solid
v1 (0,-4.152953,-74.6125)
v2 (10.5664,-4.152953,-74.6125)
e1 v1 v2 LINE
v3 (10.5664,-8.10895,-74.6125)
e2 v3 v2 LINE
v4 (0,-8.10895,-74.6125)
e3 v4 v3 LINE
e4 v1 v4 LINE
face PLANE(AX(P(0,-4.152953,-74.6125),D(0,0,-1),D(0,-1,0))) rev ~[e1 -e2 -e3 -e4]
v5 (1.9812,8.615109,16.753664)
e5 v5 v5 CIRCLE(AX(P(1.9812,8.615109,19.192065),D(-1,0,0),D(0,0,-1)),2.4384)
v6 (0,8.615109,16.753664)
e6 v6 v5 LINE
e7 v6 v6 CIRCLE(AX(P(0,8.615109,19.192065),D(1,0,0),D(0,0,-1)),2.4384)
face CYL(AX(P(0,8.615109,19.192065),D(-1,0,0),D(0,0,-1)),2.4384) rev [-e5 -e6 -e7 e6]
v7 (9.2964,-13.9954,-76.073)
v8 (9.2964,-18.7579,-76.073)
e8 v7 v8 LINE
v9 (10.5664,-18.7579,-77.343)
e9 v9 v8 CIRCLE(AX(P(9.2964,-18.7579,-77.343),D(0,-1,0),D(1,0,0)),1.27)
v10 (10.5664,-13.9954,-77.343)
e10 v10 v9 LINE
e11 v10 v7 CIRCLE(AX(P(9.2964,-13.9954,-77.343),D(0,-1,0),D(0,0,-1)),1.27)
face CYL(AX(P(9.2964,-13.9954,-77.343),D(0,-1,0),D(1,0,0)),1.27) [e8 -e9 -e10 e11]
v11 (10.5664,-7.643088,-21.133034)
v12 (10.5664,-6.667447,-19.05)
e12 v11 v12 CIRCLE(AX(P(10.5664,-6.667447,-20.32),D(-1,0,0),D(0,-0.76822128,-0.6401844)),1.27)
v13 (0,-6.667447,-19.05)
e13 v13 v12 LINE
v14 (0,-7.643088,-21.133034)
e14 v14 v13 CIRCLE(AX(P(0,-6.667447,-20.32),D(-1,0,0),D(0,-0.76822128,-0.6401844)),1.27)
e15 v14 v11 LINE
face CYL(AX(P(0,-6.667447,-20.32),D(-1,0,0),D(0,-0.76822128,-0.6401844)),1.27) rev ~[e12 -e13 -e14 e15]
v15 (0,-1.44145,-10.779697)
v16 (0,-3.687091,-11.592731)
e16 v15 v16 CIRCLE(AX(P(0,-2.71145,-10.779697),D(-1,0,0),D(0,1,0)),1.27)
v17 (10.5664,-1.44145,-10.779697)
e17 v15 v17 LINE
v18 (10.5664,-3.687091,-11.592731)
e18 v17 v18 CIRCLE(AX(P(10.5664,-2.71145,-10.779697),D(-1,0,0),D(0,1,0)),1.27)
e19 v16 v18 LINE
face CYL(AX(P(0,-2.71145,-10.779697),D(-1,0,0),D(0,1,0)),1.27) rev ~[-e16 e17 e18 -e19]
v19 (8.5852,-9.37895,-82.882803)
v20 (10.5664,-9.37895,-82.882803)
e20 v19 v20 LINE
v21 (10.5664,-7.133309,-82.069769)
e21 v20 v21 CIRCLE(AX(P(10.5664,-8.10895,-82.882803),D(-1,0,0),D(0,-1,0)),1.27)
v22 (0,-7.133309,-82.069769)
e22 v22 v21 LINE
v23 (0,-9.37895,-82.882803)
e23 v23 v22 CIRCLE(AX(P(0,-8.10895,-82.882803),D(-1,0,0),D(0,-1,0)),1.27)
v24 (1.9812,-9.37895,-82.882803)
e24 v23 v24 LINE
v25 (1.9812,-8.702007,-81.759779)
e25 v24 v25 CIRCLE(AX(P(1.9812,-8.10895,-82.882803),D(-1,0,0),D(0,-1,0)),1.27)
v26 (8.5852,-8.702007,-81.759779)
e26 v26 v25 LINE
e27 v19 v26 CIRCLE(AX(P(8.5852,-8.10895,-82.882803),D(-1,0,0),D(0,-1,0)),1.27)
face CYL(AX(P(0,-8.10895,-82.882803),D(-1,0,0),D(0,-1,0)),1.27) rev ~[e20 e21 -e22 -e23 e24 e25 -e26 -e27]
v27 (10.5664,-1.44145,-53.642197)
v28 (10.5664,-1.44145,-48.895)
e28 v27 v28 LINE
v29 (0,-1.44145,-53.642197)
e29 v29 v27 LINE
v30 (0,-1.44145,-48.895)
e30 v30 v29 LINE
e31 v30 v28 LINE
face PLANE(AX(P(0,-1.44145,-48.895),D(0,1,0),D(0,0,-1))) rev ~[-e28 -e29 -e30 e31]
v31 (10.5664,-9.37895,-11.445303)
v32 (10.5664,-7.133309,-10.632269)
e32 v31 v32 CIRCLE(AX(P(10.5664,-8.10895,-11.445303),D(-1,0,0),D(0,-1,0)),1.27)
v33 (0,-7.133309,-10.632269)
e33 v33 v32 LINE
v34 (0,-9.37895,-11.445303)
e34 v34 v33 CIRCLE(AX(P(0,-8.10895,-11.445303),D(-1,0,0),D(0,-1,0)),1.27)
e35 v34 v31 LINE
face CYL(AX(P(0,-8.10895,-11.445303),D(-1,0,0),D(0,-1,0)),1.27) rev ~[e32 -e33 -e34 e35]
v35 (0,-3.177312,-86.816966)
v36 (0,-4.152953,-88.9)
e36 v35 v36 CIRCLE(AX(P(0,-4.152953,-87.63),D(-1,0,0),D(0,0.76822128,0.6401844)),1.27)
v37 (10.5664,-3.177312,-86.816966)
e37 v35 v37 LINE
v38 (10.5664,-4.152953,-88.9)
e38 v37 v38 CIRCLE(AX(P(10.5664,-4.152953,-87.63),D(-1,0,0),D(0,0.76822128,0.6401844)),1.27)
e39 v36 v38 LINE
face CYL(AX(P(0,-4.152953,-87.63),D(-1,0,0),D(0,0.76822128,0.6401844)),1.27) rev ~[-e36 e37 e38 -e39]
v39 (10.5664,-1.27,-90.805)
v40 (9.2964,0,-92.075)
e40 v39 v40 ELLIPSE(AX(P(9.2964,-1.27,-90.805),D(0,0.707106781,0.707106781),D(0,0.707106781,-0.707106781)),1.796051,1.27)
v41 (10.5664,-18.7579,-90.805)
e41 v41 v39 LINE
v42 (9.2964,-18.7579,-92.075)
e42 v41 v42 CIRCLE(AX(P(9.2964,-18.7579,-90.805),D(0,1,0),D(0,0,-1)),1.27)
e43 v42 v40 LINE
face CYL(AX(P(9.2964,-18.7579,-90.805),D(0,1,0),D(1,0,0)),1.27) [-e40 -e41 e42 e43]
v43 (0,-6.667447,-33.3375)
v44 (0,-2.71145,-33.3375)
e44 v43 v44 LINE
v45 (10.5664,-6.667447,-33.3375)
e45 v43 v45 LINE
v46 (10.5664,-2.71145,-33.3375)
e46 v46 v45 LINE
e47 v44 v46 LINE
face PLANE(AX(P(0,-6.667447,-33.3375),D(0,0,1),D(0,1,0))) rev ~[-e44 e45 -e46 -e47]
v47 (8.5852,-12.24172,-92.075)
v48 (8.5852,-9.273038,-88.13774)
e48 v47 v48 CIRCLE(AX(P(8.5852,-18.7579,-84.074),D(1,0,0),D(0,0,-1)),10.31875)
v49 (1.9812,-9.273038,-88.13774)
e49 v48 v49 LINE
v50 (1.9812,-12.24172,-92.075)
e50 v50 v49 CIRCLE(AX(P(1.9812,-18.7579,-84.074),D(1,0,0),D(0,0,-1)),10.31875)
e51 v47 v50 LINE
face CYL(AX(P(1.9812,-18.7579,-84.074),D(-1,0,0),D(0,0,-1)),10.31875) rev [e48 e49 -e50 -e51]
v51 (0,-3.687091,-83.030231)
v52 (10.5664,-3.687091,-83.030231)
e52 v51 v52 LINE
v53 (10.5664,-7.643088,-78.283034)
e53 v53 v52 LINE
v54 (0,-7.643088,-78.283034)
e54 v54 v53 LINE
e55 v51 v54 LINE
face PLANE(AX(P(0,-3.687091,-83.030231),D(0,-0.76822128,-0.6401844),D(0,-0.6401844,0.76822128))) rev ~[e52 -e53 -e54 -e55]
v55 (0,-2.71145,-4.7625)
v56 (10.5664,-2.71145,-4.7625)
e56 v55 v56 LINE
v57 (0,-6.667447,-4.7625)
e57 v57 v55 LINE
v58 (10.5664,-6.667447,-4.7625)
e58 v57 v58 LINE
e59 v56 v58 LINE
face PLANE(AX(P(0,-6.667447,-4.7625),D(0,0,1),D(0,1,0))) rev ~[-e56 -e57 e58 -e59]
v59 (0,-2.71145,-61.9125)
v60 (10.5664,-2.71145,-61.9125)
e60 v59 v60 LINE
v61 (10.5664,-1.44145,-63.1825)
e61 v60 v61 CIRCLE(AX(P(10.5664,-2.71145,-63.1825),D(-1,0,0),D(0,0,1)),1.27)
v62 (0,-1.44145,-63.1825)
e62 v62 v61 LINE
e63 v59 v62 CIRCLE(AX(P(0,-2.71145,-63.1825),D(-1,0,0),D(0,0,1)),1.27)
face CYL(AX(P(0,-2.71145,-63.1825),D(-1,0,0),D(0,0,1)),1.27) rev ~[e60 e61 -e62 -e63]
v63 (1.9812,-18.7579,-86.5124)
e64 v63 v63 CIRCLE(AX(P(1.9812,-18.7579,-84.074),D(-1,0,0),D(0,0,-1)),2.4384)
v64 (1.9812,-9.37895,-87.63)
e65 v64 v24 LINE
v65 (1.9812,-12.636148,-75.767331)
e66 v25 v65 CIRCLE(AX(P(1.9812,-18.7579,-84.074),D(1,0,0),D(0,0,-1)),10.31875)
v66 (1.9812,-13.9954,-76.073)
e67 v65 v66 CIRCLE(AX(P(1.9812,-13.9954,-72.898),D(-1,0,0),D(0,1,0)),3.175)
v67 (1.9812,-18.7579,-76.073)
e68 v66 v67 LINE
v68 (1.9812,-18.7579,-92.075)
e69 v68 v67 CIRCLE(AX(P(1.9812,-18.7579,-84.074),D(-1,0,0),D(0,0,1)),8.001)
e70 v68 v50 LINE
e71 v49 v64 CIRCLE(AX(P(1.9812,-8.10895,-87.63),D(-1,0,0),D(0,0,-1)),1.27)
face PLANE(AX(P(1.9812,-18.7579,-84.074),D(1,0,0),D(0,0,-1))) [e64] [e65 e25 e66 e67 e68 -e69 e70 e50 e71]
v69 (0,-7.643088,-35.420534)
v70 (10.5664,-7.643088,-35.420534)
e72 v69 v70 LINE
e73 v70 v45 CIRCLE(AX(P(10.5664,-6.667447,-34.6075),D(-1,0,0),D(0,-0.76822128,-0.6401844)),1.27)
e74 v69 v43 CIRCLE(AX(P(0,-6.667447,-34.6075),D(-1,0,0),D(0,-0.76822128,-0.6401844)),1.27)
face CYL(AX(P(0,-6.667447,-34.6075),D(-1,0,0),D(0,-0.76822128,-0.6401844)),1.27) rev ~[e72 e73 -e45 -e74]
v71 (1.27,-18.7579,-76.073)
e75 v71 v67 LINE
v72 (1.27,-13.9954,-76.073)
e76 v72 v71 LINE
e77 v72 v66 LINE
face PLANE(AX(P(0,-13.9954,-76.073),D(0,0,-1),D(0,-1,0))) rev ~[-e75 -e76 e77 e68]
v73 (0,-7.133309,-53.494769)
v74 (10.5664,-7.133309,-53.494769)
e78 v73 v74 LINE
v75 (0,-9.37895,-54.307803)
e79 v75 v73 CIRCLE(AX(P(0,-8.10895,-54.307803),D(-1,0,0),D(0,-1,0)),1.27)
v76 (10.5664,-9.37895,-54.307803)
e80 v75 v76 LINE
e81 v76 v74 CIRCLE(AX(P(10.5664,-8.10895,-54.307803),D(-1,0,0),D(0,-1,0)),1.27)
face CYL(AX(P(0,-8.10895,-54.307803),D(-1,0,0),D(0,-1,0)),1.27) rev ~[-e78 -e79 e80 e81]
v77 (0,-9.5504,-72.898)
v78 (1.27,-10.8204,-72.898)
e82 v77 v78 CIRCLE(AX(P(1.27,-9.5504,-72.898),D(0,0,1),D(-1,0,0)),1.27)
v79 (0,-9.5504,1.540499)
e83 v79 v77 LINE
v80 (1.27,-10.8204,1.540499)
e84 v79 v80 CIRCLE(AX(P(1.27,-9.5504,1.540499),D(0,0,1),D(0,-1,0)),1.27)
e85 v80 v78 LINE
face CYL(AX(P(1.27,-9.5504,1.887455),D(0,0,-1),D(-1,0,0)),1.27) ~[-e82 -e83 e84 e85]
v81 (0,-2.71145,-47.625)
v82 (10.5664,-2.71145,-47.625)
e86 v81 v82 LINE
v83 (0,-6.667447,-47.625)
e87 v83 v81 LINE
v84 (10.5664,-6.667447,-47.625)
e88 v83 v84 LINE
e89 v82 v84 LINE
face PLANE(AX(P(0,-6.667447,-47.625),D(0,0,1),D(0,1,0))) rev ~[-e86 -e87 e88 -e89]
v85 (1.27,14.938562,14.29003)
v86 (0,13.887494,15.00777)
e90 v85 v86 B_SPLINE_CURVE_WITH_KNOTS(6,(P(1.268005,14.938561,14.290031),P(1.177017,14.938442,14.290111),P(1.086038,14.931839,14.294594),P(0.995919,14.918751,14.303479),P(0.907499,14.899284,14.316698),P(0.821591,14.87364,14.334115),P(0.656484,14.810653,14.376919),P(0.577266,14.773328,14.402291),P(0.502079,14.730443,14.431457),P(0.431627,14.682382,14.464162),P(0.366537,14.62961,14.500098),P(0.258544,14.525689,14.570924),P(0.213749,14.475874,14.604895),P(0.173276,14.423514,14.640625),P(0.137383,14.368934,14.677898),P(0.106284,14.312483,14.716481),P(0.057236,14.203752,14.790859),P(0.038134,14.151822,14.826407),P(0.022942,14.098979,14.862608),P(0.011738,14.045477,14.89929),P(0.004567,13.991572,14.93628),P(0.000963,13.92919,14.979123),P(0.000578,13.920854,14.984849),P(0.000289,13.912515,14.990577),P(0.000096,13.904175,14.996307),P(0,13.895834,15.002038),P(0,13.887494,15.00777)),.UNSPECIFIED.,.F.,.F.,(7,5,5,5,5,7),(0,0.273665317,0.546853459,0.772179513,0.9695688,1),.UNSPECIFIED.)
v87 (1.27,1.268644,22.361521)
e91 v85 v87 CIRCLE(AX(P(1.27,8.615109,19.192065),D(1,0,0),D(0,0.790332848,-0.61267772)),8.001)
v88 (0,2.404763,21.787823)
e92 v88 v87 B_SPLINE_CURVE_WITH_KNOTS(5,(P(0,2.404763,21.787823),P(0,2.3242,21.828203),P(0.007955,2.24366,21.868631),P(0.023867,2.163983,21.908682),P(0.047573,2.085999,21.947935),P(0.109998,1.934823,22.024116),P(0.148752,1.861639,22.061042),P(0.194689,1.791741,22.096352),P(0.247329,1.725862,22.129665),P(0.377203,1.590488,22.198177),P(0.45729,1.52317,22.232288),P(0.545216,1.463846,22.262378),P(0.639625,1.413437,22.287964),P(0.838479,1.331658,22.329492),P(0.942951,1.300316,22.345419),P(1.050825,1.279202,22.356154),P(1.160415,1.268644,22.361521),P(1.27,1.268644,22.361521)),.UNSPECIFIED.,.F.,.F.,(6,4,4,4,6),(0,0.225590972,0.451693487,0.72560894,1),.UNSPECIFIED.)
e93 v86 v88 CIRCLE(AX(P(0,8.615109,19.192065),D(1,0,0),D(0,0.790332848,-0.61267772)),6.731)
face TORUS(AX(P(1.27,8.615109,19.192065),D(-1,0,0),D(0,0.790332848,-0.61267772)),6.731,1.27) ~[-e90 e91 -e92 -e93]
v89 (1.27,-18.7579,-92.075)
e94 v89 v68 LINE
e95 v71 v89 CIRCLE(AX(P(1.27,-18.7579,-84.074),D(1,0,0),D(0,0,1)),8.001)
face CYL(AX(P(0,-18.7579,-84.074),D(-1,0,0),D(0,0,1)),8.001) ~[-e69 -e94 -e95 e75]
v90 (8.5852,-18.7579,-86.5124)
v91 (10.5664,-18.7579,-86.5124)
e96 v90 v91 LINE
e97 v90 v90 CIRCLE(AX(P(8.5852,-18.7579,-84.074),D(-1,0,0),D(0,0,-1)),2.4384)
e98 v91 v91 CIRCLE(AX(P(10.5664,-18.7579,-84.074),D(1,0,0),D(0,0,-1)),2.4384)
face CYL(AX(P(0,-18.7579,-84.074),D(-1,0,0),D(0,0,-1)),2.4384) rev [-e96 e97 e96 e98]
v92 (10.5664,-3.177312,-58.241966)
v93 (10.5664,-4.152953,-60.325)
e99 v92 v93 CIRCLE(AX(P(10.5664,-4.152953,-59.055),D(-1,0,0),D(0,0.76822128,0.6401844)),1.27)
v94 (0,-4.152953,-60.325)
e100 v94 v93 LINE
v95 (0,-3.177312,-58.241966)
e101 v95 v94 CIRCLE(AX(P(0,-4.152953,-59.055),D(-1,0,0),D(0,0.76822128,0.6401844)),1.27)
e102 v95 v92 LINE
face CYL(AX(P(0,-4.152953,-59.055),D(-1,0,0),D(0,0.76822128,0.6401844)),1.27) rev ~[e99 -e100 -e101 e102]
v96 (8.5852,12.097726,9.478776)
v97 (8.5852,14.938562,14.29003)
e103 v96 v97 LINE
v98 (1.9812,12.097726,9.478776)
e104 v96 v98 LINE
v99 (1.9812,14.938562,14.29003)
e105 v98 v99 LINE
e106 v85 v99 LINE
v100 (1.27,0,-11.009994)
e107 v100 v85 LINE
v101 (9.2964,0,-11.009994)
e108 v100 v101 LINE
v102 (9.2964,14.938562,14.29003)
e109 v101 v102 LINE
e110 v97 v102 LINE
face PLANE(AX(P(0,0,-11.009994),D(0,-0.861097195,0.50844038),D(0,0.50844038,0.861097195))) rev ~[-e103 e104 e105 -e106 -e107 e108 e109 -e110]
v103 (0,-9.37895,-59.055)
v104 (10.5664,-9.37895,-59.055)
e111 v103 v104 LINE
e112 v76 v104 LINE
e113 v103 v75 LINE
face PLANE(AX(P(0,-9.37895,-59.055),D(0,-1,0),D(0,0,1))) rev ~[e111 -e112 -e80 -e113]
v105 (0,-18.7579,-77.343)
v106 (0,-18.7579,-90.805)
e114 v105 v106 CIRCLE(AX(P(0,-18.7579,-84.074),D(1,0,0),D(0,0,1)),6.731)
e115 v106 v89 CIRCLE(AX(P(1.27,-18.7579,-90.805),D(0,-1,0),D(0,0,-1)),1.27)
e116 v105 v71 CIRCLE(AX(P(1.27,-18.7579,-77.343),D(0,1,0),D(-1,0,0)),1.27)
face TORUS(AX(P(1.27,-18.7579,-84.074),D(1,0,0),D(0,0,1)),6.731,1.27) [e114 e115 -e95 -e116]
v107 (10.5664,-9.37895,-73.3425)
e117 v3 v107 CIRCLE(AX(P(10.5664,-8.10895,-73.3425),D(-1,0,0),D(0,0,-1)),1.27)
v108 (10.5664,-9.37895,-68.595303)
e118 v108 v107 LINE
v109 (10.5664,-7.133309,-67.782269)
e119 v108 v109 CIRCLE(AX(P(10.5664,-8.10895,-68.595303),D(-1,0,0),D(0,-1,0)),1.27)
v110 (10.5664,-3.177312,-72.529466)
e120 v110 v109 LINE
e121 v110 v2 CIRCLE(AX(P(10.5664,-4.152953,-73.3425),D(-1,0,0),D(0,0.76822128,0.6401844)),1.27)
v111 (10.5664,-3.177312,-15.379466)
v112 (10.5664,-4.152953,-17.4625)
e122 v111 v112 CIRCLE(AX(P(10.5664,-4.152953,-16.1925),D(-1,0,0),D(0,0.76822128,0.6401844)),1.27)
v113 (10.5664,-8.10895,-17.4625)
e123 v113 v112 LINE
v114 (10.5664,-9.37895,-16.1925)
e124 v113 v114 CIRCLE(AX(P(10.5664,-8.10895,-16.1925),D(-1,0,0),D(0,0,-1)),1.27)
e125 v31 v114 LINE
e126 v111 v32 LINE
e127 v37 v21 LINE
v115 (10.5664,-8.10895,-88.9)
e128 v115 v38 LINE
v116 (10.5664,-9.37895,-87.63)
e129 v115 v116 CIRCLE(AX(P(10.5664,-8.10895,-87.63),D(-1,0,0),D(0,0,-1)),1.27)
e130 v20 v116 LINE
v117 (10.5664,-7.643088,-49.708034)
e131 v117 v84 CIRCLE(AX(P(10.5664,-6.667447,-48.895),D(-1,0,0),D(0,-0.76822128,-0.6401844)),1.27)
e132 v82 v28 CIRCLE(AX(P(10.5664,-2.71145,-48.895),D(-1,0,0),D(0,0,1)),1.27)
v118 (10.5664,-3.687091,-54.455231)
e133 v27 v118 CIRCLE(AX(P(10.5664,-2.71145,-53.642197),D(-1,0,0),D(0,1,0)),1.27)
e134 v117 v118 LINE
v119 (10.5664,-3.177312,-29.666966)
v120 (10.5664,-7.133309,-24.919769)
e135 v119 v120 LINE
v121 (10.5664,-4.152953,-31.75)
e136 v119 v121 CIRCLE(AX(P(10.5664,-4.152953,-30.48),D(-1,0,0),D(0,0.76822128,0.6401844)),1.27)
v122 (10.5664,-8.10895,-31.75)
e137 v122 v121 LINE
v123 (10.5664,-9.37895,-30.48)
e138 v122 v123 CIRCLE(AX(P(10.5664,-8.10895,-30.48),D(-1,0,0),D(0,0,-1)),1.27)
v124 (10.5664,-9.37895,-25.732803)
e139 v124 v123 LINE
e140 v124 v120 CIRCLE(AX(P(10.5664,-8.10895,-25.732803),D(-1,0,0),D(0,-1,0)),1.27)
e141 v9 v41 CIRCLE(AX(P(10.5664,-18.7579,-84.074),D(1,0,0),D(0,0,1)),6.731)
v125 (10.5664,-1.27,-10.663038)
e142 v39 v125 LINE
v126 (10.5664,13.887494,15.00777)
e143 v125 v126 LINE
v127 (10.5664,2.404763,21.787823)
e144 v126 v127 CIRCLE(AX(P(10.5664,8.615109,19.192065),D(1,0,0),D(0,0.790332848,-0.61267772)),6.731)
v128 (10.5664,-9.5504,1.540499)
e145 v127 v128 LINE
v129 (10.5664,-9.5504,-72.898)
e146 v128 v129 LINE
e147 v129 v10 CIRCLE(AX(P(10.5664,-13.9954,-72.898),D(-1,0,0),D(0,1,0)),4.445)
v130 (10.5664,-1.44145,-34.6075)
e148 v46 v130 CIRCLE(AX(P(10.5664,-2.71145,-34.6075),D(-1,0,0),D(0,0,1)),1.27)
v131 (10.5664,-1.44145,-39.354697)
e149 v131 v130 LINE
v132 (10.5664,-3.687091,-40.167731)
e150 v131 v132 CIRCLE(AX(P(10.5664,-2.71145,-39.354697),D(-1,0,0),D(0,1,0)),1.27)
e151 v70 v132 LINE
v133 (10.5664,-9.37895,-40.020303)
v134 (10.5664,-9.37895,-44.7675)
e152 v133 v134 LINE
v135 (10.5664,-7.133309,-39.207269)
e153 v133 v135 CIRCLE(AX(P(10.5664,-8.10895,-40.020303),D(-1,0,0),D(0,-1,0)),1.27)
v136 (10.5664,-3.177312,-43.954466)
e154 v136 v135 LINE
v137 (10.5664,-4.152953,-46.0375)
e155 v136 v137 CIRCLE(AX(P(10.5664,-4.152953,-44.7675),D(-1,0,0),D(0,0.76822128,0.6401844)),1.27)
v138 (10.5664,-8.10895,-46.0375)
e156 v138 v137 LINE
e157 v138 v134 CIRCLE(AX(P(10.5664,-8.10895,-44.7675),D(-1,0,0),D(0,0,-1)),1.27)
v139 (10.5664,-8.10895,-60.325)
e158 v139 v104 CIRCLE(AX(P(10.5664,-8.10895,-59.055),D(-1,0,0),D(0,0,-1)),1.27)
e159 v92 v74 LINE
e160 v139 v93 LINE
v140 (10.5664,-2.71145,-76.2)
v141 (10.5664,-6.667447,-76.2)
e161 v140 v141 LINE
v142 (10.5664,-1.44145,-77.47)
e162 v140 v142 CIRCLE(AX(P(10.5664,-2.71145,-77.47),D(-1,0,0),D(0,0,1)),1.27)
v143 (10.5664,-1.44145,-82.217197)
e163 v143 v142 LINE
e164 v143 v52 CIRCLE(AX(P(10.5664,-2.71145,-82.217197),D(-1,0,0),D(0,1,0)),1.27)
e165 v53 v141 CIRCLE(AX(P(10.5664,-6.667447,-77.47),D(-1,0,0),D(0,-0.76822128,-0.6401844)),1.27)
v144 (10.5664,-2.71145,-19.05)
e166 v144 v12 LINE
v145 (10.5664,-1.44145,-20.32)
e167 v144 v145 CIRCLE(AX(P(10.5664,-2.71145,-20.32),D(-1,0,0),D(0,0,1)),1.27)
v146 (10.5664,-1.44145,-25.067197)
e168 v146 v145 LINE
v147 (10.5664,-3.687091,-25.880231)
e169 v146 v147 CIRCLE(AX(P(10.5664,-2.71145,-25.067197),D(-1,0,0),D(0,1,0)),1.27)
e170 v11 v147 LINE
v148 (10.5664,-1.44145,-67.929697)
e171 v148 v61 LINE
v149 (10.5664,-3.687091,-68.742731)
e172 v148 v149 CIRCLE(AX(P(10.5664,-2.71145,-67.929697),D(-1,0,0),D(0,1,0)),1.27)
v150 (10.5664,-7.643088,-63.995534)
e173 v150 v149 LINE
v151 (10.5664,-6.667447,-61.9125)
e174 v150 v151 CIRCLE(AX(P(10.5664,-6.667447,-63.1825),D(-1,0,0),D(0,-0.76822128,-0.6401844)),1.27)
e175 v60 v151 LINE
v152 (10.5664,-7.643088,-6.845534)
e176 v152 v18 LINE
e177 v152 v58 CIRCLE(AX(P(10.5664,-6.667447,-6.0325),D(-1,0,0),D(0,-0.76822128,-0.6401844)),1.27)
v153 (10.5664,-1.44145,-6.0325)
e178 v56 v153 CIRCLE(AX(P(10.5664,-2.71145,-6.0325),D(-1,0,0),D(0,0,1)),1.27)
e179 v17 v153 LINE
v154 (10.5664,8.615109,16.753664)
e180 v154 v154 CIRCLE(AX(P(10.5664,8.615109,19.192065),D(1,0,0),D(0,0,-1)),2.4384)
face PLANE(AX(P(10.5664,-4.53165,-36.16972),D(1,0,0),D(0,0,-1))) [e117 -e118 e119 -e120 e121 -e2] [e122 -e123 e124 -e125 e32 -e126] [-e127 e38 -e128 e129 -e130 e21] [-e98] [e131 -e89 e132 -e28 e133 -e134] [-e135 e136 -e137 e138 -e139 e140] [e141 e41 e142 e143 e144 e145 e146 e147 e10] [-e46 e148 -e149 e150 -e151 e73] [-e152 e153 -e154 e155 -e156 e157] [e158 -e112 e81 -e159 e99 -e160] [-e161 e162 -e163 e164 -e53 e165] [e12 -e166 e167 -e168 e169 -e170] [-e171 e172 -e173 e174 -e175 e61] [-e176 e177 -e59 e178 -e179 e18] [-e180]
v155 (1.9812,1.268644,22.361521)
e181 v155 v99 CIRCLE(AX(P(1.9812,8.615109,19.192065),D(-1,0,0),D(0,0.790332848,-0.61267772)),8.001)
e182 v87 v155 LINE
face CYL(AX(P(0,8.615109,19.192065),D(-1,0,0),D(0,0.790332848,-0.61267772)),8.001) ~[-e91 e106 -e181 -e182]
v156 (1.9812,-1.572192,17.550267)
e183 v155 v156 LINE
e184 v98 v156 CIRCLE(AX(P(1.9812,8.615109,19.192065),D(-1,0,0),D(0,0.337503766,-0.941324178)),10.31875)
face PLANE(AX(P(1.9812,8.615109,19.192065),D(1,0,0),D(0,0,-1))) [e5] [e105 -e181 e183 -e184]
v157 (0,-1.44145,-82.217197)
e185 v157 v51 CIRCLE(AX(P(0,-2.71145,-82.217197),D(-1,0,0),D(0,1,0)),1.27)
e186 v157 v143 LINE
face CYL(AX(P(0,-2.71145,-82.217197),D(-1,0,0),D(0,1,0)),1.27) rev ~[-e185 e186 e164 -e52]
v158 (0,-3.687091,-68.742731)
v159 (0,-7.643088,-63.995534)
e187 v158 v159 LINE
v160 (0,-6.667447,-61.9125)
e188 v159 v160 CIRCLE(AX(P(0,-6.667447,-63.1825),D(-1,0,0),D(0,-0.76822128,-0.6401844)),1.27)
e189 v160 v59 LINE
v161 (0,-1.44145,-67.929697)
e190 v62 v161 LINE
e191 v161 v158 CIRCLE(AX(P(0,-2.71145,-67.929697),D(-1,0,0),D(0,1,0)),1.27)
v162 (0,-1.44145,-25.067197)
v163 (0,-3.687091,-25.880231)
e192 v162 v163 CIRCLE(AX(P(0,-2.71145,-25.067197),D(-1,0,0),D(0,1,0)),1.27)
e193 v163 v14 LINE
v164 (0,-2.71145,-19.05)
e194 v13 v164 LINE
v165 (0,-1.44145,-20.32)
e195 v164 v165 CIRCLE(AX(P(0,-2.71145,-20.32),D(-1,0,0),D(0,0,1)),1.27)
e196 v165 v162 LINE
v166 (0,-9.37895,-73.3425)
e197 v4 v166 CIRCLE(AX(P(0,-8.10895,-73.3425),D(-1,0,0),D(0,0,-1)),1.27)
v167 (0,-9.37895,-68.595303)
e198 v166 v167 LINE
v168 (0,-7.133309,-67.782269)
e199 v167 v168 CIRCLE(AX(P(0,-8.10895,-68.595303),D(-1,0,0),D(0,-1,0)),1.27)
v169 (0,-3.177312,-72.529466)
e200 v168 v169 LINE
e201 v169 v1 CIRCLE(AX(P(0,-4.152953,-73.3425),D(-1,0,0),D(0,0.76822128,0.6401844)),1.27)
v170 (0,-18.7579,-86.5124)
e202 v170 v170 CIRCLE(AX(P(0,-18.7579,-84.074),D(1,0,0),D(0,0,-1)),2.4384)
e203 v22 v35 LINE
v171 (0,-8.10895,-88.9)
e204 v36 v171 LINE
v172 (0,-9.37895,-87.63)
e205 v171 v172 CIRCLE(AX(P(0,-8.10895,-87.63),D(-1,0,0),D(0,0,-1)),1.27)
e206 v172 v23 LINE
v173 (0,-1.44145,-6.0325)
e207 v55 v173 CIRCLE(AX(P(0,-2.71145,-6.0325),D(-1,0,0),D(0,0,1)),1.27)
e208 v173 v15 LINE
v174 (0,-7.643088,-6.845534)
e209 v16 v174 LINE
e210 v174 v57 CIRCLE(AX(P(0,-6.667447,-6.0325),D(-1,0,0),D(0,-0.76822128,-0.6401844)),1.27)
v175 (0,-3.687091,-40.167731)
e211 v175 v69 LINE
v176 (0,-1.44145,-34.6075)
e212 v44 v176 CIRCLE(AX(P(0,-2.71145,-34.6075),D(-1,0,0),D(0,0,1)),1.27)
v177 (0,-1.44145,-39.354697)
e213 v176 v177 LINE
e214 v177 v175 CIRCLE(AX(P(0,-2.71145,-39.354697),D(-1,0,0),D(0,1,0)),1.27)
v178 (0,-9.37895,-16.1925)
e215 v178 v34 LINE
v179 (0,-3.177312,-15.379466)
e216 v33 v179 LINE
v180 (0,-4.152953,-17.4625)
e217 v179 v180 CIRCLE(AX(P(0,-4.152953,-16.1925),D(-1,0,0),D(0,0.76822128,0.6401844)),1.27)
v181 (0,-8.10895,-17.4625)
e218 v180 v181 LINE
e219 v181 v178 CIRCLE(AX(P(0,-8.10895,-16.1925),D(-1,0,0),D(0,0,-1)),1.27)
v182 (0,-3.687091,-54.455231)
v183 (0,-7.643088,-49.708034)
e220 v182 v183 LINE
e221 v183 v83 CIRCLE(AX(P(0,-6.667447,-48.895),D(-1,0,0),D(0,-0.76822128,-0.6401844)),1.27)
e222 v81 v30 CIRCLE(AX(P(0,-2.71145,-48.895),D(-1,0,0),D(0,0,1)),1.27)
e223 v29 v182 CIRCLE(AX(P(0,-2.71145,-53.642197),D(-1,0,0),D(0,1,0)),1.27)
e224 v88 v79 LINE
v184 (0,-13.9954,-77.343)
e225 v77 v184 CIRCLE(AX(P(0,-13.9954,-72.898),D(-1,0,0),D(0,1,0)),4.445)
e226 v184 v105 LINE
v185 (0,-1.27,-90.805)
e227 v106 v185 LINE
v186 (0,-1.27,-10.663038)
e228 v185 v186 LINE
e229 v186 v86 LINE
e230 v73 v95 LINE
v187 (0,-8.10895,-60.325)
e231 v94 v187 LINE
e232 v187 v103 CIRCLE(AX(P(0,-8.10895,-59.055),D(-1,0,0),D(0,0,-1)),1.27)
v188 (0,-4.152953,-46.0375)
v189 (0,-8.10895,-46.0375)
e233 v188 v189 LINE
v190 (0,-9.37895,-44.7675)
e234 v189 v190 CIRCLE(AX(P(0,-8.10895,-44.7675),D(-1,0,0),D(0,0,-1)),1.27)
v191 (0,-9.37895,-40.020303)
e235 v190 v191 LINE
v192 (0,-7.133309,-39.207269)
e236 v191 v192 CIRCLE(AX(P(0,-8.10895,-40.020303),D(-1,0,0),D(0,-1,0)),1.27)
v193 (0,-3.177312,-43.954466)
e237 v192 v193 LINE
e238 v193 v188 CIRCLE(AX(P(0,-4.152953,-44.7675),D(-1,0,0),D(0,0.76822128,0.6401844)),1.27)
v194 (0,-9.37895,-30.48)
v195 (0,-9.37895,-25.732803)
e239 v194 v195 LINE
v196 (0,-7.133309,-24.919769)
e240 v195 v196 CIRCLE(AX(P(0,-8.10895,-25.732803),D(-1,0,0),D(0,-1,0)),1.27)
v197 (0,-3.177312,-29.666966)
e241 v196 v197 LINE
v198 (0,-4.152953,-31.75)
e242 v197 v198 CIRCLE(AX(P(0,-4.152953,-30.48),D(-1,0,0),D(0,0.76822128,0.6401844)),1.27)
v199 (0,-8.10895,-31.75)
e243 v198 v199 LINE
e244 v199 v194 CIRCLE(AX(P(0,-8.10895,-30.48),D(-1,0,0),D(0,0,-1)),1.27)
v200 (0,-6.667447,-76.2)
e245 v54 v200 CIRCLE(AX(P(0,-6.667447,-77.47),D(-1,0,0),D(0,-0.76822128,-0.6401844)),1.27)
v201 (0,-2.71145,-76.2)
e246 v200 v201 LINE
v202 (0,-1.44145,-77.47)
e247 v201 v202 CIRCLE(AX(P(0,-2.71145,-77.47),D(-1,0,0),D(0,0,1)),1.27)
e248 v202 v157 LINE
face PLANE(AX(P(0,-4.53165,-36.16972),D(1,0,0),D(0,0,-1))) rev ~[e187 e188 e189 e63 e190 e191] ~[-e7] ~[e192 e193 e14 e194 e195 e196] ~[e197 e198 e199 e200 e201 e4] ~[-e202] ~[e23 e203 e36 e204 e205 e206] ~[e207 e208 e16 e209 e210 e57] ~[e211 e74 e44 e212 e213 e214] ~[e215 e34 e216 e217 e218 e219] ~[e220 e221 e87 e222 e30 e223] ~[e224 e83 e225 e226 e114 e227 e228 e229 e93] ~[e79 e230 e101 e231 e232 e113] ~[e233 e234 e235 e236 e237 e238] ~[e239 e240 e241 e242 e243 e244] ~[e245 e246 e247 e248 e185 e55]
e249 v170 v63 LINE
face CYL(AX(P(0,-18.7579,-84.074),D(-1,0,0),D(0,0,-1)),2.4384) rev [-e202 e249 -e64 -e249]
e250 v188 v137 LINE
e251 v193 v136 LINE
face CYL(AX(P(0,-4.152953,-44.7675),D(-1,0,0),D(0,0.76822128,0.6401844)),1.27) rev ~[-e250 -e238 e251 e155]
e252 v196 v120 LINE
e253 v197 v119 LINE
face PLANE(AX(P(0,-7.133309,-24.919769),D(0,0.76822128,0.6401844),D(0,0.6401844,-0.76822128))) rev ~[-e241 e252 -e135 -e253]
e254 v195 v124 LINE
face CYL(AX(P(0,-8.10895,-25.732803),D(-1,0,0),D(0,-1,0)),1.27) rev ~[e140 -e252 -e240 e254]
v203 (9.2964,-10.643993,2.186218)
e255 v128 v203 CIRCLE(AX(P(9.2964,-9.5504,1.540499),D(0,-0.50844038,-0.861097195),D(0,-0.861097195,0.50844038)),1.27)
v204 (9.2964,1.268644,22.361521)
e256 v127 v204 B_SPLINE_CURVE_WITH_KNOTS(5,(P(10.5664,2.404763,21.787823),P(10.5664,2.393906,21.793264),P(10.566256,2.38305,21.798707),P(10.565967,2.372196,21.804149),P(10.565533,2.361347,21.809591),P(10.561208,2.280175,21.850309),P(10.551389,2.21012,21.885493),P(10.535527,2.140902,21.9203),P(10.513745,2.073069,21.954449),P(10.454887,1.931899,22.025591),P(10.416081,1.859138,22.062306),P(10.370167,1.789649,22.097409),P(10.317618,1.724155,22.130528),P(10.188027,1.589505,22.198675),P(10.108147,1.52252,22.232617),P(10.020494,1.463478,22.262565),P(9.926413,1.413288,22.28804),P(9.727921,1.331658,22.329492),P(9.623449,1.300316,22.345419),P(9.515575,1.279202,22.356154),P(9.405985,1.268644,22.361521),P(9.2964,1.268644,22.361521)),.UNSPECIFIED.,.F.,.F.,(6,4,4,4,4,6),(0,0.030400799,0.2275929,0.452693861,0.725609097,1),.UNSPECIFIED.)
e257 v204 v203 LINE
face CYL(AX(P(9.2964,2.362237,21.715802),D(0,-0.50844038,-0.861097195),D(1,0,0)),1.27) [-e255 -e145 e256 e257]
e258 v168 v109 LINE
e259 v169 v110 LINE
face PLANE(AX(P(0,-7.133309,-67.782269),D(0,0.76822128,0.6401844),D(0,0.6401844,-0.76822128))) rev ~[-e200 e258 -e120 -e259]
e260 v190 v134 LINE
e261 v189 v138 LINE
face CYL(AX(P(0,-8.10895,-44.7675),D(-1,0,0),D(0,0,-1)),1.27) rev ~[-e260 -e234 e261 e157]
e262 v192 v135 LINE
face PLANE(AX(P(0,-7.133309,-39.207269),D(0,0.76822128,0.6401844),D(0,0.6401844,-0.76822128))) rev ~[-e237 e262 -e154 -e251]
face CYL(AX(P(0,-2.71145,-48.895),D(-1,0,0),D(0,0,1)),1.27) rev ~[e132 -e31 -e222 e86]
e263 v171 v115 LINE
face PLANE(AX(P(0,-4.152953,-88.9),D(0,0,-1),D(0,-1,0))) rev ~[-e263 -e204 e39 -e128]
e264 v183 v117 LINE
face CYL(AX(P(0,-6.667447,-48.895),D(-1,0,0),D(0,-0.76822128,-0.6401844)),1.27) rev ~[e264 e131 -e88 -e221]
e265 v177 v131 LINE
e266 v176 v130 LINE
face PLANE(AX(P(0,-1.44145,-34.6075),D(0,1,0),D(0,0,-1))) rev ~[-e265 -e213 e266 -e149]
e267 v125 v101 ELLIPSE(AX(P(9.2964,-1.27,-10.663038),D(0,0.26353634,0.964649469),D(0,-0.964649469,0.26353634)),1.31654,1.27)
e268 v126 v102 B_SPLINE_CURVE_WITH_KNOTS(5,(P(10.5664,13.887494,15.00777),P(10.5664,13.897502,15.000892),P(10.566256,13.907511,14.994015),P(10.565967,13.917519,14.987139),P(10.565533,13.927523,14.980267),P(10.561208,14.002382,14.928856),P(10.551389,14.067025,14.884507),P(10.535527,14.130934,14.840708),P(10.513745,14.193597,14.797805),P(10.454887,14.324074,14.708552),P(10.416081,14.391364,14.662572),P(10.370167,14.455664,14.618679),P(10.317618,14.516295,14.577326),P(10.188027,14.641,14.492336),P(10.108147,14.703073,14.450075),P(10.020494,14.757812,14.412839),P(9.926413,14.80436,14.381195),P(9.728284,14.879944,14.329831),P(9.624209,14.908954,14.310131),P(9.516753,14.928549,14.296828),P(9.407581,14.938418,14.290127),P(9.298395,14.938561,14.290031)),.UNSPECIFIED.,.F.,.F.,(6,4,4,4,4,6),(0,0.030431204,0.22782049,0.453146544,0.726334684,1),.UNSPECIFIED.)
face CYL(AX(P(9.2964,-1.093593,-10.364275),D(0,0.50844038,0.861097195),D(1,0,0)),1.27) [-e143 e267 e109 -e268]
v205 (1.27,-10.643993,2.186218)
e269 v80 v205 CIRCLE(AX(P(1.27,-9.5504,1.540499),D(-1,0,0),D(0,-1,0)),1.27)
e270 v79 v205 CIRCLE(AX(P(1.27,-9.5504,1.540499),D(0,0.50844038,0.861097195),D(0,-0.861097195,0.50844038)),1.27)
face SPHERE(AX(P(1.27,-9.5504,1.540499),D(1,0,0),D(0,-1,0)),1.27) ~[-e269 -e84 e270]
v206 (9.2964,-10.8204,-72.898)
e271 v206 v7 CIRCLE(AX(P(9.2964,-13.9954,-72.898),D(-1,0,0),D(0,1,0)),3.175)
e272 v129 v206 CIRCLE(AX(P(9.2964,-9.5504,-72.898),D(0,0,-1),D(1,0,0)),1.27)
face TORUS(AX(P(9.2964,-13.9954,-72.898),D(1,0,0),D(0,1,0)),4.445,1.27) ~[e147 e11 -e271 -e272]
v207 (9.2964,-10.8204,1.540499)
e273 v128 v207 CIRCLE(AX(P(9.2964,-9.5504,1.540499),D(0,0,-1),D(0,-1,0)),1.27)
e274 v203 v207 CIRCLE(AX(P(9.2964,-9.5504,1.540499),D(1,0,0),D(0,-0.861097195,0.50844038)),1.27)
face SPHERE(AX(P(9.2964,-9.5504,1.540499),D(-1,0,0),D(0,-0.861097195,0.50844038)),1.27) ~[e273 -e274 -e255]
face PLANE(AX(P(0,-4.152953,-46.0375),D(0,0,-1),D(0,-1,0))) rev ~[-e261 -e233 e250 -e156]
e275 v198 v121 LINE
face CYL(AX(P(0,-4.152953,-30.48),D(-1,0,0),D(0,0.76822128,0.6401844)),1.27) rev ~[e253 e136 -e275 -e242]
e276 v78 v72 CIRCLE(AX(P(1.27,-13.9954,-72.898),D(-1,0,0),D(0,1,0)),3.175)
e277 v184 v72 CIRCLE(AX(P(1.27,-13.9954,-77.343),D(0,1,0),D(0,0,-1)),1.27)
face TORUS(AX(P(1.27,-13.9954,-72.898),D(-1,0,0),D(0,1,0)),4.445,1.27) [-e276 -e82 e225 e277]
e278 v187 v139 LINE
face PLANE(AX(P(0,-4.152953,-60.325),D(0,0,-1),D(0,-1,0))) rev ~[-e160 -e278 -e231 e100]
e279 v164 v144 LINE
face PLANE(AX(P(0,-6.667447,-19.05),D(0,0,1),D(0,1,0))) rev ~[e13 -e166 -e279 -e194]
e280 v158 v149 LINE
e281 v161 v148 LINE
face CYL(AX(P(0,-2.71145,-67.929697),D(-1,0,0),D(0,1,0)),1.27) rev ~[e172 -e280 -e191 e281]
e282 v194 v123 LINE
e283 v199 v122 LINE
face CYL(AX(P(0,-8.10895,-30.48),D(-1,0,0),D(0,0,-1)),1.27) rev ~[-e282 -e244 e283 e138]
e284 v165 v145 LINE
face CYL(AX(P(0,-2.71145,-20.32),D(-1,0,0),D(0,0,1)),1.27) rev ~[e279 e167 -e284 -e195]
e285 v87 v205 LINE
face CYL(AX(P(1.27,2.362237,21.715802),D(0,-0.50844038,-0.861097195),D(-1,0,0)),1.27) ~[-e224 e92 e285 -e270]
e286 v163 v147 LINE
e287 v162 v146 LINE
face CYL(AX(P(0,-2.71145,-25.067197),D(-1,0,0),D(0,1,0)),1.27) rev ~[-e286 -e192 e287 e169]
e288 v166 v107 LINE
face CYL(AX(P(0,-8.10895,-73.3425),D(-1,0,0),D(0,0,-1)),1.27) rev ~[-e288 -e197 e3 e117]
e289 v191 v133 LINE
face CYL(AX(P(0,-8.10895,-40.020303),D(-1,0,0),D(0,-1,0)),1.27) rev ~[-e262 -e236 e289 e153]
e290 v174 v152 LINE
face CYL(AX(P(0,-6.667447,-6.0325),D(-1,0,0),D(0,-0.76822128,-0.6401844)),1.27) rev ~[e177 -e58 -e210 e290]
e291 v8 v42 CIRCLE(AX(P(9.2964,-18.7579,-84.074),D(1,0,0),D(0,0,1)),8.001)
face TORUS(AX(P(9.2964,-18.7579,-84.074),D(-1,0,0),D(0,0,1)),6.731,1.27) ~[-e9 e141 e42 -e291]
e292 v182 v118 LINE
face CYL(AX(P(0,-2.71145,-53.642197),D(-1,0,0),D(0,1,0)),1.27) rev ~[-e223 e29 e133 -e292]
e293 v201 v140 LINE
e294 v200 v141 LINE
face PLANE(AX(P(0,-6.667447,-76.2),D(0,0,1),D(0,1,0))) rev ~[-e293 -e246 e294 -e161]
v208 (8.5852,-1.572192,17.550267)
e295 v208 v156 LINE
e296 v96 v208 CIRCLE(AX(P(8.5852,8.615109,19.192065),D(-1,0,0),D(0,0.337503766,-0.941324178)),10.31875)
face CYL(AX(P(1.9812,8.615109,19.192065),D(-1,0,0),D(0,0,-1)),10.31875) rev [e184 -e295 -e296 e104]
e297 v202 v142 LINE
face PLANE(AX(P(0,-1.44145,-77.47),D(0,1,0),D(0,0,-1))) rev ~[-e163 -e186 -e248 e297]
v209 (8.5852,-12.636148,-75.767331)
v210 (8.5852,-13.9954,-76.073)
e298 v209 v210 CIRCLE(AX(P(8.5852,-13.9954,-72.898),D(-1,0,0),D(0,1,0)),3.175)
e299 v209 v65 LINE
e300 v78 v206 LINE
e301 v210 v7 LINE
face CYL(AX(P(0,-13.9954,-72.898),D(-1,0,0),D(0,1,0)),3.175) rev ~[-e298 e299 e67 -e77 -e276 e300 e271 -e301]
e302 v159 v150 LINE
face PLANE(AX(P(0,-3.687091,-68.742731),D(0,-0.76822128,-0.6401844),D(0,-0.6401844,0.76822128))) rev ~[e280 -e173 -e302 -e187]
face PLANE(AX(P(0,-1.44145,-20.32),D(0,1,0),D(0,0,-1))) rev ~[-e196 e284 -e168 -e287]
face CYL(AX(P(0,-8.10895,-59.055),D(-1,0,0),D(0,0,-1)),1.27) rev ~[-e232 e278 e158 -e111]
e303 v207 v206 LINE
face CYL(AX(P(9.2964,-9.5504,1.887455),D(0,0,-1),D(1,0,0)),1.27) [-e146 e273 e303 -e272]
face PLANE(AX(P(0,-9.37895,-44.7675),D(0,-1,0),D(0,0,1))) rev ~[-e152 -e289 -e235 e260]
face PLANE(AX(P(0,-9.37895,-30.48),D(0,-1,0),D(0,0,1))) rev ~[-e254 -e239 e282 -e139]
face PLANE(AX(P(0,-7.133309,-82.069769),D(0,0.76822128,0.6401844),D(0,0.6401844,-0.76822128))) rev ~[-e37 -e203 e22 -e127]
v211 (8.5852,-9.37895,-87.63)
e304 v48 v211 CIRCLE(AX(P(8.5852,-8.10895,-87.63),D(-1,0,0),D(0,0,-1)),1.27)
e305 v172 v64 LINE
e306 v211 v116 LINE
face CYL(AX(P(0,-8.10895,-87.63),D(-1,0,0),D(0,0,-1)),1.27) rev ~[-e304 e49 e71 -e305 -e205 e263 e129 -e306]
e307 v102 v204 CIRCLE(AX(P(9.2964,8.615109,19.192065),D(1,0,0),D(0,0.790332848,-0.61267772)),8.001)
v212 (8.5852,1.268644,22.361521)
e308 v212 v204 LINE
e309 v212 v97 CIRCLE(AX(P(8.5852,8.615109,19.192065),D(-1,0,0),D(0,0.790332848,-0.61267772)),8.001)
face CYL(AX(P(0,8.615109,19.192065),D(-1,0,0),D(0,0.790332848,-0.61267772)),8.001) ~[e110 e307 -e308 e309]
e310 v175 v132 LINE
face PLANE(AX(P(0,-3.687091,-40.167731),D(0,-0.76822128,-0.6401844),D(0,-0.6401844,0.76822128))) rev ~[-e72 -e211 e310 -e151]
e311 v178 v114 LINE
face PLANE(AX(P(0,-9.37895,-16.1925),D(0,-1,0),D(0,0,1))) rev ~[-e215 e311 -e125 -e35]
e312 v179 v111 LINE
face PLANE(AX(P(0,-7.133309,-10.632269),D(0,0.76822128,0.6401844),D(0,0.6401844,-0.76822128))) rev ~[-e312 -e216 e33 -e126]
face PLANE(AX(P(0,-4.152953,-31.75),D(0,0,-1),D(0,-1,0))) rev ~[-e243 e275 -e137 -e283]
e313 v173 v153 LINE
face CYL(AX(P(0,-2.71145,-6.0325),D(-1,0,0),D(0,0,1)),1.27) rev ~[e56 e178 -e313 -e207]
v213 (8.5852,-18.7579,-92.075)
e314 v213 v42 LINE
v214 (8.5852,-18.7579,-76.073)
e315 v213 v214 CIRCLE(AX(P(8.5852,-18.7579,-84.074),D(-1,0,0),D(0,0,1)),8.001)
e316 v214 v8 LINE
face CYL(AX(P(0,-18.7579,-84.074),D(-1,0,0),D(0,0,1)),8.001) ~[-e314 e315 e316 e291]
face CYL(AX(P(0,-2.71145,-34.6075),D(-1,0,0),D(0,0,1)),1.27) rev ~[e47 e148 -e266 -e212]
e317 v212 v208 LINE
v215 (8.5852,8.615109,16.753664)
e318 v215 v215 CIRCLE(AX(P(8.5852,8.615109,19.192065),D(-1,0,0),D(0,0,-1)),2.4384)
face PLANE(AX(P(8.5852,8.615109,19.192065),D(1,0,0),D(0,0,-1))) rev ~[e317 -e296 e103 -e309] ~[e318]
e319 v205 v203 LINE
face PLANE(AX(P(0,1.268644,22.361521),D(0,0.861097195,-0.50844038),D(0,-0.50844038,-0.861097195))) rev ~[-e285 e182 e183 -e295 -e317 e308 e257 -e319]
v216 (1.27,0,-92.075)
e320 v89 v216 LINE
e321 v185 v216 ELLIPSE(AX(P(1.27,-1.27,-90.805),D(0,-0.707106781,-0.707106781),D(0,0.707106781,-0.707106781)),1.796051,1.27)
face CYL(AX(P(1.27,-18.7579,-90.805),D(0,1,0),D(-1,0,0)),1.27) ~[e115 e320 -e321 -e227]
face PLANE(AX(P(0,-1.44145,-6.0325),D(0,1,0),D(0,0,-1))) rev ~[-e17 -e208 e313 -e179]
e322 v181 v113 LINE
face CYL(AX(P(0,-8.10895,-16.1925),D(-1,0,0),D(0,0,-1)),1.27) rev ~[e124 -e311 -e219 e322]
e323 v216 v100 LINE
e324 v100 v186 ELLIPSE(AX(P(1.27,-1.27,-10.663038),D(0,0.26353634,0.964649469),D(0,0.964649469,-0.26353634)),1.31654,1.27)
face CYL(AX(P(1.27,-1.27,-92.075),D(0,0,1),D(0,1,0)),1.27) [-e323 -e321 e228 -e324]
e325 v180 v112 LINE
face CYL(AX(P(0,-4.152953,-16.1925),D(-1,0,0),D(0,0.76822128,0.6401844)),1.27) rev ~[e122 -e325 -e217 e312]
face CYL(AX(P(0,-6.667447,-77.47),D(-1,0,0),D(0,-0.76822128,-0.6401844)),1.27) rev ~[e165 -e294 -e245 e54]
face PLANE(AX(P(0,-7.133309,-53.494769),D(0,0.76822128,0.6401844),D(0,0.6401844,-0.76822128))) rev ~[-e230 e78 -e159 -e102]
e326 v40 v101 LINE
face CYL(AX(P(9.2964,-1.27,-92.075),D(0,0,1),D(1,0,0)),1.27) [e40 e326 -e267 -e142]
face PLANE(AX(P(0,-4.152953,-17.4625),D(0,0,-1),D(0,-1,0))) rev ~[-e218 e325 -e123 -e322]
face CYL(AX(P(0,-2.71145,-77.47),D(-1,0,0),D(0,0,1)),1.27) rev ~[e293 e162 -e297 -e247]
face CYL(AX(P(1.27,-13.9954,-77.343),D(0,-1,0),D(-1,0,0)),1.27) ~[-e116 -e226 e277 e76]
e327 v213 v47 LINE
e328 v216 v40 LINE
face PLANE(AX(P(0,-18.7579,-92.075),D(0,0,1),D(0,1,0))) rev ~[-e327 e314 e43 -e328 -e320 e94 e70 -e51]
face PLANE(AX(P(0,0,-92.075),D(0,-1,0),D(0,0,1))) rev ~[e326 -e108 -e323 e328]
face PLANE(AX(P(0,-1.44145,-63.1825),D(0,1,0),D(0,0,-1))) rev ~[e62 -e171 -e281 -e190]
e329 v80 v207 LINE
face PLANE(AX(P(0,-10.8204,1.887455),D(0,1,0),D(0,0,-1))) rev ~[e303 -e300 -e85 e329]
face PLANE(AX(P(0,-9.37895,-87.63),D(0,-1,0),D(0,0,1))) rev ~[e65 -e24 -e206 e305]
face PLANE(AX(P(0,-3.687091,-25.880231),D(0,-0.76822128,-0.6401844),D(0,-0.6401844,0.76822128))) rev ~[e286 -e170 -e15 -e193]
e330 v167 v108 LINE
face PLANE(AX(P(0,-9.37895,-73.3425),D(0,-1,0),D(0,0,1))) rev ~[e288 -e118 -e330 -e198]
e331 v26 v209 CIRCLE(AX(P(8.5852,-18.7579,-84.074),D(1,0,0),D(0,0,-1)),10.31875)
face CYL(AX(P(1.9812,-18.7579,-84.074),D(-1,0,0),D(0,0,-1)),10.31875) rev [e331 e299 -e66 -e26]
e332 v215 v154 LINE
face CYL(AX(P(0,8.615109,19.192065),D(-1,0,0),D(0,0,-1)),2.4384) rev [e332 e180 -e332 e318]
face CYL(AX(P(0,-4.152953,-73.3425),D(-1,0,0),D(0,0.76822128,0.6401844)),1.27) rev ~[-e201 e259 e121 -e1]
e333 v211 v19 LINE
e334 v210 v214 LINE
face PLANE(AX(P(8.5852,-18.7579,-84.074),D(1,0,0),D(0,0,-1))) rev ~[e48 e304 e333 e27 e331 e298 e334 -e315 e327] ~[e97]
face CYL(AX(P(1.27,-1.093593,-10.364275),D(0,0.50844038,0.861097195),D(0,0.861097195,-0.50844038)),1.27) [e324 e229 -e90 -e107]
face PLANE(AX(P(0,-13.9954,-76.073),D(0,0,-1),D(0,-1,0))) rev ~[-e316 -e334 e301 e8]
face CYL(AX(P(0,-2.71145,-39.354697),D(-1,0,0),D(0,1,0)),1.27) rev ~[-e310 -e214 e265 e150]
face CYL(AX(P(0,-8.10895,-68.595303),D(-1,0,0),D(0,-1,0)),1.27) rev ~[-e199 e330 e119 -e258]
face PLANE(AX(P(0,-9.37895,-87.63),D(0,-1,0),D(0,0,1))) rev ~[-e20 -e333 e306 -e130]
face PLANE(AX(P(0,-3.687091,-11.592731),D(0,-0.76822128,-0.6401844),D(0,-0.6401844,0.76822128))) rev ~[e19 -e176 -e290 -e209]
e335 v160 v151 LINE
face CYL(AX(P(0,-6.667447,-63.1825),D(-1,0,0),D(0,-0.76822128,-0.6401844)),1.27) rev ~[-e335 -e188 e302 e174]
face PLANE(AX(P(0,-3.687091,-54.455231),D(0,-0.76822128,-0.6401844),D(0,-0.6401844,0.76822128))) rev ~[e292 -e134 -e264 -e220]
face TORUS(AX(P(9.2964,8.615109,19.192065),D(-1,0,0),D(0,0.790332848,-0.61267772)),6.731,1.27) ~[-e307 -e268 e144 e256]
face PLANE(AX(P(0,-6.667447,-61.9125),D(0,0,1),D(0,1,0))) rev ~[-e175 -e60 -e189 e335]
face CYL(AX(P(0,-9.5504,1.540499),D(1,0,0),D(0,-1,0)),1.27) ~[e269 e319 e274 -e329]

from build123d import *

# Parameters (mm, degrees)
SKETCH2_R               = 2.4384
BOSS_EXTRUDE1_DEPTH     = 10.5664
CUT_EXTRUDE2_DEPTH      = 97.46498413
CUT_EXTRUDE3_DEPTH      = 3.302
CUT_EXTRUDE3_DEPTH_BACK = 3.302
SKETCH4_R               = 10.31875
FILLET10_R              = 1.27


with BuildPart() as part:
    # Sketch2 → Boss-Extrude1 (new body)
    with BuildSketch(Plane(origin=(0, 0, 0), x_dir=(0, 0, -1), z_dir=(1, 0, 0))):
        with BuildLine():
            Line((-1.887455194, -10.8204), (72.898, -10.8204))
            ThreePointArc((72.898, -10.8204), (75.14306403, -11.75033597), (76.073, -13.9954))
            Line((76.073, -13.9954), (76.073, -18.7579))
            ThreePointArc((76.073, -18.7579), (84.074, -26.7589), (92.075, -18.7579))
            Line((92.075, -18.7579), (92.075, 0))
            Line((92.075, 0), (11.009993871, 0))
            Line((11.009993871, 0), (-14.290030059, 14.938561947))
            ThreePointArc((-14.290030059, 14.938561947), (-26.081703159, 12.683140313), (-22.361521098, 1.268643974))
            Line((-22.361521098, 1.268643974), (-1.887455194, -10.8204))
        make_face()
        with Locations((84.074, -18.7579)):
            Circle(SKETCH2_R, mode=Mode.SUBTRACT)
        with Locations((-19.1920645, 8.615108829)):
            Circle(SKETCH2_R, mode=Mode.SUBTRACT)
    extrude(amount=BOSS_EXTRUDE1_DEPTH)

    # Sketch3 → Cut-Extrude2 (cut, through all)
    with BuildSketch(Plane.ZY):
        with BuildLine():
            ThreePointArc((-6.845534188, -7.643088177), (-5.493822647, -7.817545717), (-4.7625, -6.667447152))
            Line((-4.7625, -6.667447152), (-4.7625, -2.71145))
            ThreePointArc((-4.7625, -2.71145), (-5.134474388, -1.813424388), (-6.0325, -1.44145))
            Line((-6.0325, -1.44145), (-10.779696582, -1.44145))
            ThreePointArc((-10.779696582, -1.44145), (-11.973841486, -2.279109915), (-11.59273077, -3.687091025))
            Line((-11.59273077, -3.687091025), (-6.845534188, -7.643088177))
        make_face()
        with BuildLine():
            ThreePointArc((-17.4625, -8.10895), (-17.090525612, -9.006975612), (-16.1925, -9.37895))
            Line((-16.1925, -9.37895), (-11.445303418, -9.37895))
            ThreePointArc((-11.445303418, -9.37895), (-10.251158514, -8.541290085), (-10.63226923, -7.133308975))
            Line((-10.63226923, -7.133308975), (-15.379465812, -3.177311823))
            ThreePointArc((-15.379465812, -3.177311823), (-16.731177353, -3.002854283), (-17.4625, -4.152952848))
            Line((-17.4625, -4.152952848), (-17.4625, -8.10895))
        make_face()
        with BuildLine():
            ThreePointArc((-21.133034188, -7.643088177), (-19.781322647, -7.817545717), (-19.05, -6.667447152))
            Line((-19.05, -6.667447152), (-19.05, -2.71145))
            ThreePointArc((-19.05, -2.71145), (-19.421974388, -1.813424388), (-20.32, -1.44145))
            Line((-20.32, -1.44145), (-25.067196582, -1.44145))
            ThreePointArc((-25.067196582, -1.44145), (-26.261341486, -2.279109915), (-25.88023077, -3.687091025))
            Line((-25.88023077, -3.687091025), (-21.133034188, -7.643088177))
        make_face()
        with BuildLine():
            ThreePointArc((-31.75, -8.10895), (-31.378025612, -9.006975612), (-30.48, -9.37895))
            Line((-30.48, -9.37895), (-25.732803418, -9.37895))
            ThreePointArc((-25.732803418, -9.37895), (-24.538658514, -8.541290085), (-24.91976923, -7.133308975))
            Line((-24.91976923, -7.133308975), (-29.666965812, -3.177311823))
            ThreePointArc((-29.666965812, -3.177311823), (-31.018677353, -3.002854283), (-31.75, -4.152952848))
            Line((-31.75, -4.152952848), (-31.75, -8.10895))
        make_face()
        with BuildLine():
            ThreePointArc((-35.420534188, -7.643088177), (-34.068822647, -7.817545717), (-33.3375, -6.667447152))
            Line((-33.3375, -6.667447152), (-33.3375, -2.71145))
            ThreePointArc((-33.3375, -2.71145), (-33.709474388, -1.813424388), (-34.6075, -1.44145))
            Line((-34.6075, -1.44145), (-39.354696582, -1.44145))
            ThreePointArc((-39.354696582, -1.44145), (-40.548841486, -2.279109915), (-40.16773077, -3.687091025))
            Line((-40.16773077, -3.687091025), (-35.420534188, -7.643088177))
        make_face()
        with BuildLine():
            ThreePointArc((-46.0375, -8.10895), (-45.665525612, -9.006975612), (-44.7675, -9.37895))
            Line((-44.7675, -9.37895), (-40.020303418, -9.37895))
            ThreePointArc((-40.020303418, -9.37895), (-38.826158514, -8.541290085), (-39.20726923, -7.133308975))
            Line((-39.20726923, -7.133308975), (-43.954465812, -3.177311823))
            ThreePointArc((-43.954465812, -3.177311823), (-45.306177353, -3.002854283), (-46.0375, -4.152952848))
            Line((-46.0375, -4.152952848), (-46.0375, -8.10895))
        make_face()
        with BuildLine():
            ThreePointArc((-49.708034188, -7.643088177), (-48.356322647, -7.817545717), (-47.625, -6.667447152))
            Line((-47.625, -6.667447152), (-47.625, -2.71145))
            ThreePointArc((-47.625, -2.71145), (-47.996974388, -1.813424388), (-48.895, -1.44145))
            Line((-48.895, -1.44145), (-53.642196582, -1.44145))
            ThreePointArc((-53.642196582, -1.44145), (-54.836341486, -2.279109915), (-54.45523077, -3.687091025))
            Line((-54.45523077, -3.687091025), (-49.708034188, -7.643088177))
        make_face()
        with BuildLine():
            ThreePointArc((-60.325, -8.10895), (-59.953025612, -9.006975612), (-59.055, -9.37895))
            Line((-59.055, -9.37895), (-54.307803418, -9.37895))
            ThreePointArc((-54.307803418, -9.37895), (-53.113658514, -8.541290085), (-53.49476923, -7.133308975))
            Line((-53.49476923, -7.133308975), (-58.241965812, -3.177311823))
            ThreePointArc((-58.241965812, -3.177311823), (-59.593677353, -3.002854283), (-60.325, -4.152952848))
            Line((-60.325, -4.152952848), (-60.325, -8.10895))
        make_face()
        with BuildLine():
            ThreePointArc((-82.882803418, -9.37895), (-81.688658514, -8.541290085), (-82.06976923, -7.133308975))
            Line((-82.06976923, -7.133308975), (-86.816965812, -3.177311823))
            ThreePointArc((-86.816965812, -3.177311823), (-88.168677353, -3.002854283), (-88.9, -4.152952848))
            Line((-88.9, -4.152952848), (-88.9, -8.10895))
            ThreePointArc((-88.9, -8.10895), (-88.528025612, -9.006975612), (-87.63, -9.37895))
            Line((-87.63, -9.37895), (-82.882803418, -9.37895))
        make_face()
        with BuildLine():
            ThreePointArc((-78.283034188, -7.643088177), (-76.931322647, -7.817545717), (-76.2, -6.667447152))
            Line((-76.2, -6.667447152), (-76.2, -2.71145))
            ThreePointArc((-76.2, -2.71145), (-76.571974388, -1.813424388), (-77.47, -1.44145))
            Line((-77.47, -1.44145), (-82.217196582, -1.44145))
            ThreePointArc((-82.217196582, -1.44145), (-83.411341486, -2.279109915), (-83.03023077, -3.687091025))
            Line((-83.03023077, -3.687091025), (-78.283034188, -7.643088177))
        make_face()
        with BuildLine():
            ThreePointArc((-74.6125, -8.10895), (-74.240525612, -9.006975612), (-73.3425, -9.37895))
            Line((-73.3425, -9.37895), (-68.595303418, -9.37895))
            ThreePointArc((-68.595303418, -9.37895), (-67.401158514, -8.541290085), (-67.78226923, -7.133308975))
            Line((-67.78226923, -7.133308975), (-72.529465812, -3.177311823))
            ThreePointArc((-72.529465812, -3.177311823), (-73.881177353, -3.002854283), (-74.6125, -4.152952848))
            Line((-74.6125, -4.152952848), (-74.6125, -8.10895))
        make_face()
        with BuildLine():
            ThreePointArc((-63.995534188, -7.643088177), (-62.643822647, -7.817545717), (-61.9125, -6.667447152))
            Line((-61.9125, -6.667447152), (-61.9125, -2.71145))
            ThreePointArc((-61.9125, -2.71145), (-62.284474388, -1.813424388), (-63.1825, -1.44145))
            Line((-63.1825, -1.44145), (-67.929696582, -1.44145))
            ThreePointArc((-67.929696582, -1.44145), (-69.123841486, -2.279109915), (-68.74273077, -3.687091025))
            Line((-68.74273077, -3.687091025), (-63.995534188, -7.643088177))
        make_face()
    extrude(amount=-CUT_EXTRUDE2_DEPTH, mode=Mode.SUBTRACT)

    # Sketch4 → Cut-Extrude3 (cut, two sides: drawn at the far end of the back side and taken through both)
    with BuildSketch(Plane(origin=(5.2832, 0, 0), x_dir=(0, 0, -1), z_dir=(1, 0, 0)).offset(-CUT_EXTRUDE3_DEPTH_BACK)):
        with Locations((-19.1920645, 8.615108829)):
            Circle(SKETCH4_R)
        with Locations((84.074, -18.7579)):
            Circle(SKETCH4_R)
    extrude(amount=CUT_EXTRUDE3_DEPTH + CUT_EXTRUDE3_DEPTH_BACK, mode=Mode.SUBTRACT)

    # Fillet10
    fillet10_edges = [part.edges().sort_by_distance(p)[0] for p in [
        (10.5664, -26.7589, -84.074),
        (0, -11.75033597, -75.14306403),
        (0, -10.8204, -35.505272403),
        (0, -4.775878013, 12.124488146),
        (0, 7.469280973, 1.640018094),
        (0, 0, -51.542496936),
        (10.5664, -9.37895, -92.075),
        (0, -9.37895, -92.075),
        (0, -26.7589, -84.074),
        (0, -16.37665, -76.073),
        (5.2832, -10.8204, 1.887455194),
        (10.5664, 0, -51.542496936),
        (10.5664, 7.469280973, 1.640018094),
        (10.5664, -4.775878013, 12.124488146),
        (10.5664, 12.683140313, 26.081703159),
        (0, 12.683140313, 26.081703159),
        (10.5664, -10.8204, -35.505272403),
        (10.5664, -11.75033597, -75.14306403),
        (10.5664, -16.37665, -76.073),
    ]]
    fillet(fillet10_edges, radius=FILLET10_R)


solid = part.part
